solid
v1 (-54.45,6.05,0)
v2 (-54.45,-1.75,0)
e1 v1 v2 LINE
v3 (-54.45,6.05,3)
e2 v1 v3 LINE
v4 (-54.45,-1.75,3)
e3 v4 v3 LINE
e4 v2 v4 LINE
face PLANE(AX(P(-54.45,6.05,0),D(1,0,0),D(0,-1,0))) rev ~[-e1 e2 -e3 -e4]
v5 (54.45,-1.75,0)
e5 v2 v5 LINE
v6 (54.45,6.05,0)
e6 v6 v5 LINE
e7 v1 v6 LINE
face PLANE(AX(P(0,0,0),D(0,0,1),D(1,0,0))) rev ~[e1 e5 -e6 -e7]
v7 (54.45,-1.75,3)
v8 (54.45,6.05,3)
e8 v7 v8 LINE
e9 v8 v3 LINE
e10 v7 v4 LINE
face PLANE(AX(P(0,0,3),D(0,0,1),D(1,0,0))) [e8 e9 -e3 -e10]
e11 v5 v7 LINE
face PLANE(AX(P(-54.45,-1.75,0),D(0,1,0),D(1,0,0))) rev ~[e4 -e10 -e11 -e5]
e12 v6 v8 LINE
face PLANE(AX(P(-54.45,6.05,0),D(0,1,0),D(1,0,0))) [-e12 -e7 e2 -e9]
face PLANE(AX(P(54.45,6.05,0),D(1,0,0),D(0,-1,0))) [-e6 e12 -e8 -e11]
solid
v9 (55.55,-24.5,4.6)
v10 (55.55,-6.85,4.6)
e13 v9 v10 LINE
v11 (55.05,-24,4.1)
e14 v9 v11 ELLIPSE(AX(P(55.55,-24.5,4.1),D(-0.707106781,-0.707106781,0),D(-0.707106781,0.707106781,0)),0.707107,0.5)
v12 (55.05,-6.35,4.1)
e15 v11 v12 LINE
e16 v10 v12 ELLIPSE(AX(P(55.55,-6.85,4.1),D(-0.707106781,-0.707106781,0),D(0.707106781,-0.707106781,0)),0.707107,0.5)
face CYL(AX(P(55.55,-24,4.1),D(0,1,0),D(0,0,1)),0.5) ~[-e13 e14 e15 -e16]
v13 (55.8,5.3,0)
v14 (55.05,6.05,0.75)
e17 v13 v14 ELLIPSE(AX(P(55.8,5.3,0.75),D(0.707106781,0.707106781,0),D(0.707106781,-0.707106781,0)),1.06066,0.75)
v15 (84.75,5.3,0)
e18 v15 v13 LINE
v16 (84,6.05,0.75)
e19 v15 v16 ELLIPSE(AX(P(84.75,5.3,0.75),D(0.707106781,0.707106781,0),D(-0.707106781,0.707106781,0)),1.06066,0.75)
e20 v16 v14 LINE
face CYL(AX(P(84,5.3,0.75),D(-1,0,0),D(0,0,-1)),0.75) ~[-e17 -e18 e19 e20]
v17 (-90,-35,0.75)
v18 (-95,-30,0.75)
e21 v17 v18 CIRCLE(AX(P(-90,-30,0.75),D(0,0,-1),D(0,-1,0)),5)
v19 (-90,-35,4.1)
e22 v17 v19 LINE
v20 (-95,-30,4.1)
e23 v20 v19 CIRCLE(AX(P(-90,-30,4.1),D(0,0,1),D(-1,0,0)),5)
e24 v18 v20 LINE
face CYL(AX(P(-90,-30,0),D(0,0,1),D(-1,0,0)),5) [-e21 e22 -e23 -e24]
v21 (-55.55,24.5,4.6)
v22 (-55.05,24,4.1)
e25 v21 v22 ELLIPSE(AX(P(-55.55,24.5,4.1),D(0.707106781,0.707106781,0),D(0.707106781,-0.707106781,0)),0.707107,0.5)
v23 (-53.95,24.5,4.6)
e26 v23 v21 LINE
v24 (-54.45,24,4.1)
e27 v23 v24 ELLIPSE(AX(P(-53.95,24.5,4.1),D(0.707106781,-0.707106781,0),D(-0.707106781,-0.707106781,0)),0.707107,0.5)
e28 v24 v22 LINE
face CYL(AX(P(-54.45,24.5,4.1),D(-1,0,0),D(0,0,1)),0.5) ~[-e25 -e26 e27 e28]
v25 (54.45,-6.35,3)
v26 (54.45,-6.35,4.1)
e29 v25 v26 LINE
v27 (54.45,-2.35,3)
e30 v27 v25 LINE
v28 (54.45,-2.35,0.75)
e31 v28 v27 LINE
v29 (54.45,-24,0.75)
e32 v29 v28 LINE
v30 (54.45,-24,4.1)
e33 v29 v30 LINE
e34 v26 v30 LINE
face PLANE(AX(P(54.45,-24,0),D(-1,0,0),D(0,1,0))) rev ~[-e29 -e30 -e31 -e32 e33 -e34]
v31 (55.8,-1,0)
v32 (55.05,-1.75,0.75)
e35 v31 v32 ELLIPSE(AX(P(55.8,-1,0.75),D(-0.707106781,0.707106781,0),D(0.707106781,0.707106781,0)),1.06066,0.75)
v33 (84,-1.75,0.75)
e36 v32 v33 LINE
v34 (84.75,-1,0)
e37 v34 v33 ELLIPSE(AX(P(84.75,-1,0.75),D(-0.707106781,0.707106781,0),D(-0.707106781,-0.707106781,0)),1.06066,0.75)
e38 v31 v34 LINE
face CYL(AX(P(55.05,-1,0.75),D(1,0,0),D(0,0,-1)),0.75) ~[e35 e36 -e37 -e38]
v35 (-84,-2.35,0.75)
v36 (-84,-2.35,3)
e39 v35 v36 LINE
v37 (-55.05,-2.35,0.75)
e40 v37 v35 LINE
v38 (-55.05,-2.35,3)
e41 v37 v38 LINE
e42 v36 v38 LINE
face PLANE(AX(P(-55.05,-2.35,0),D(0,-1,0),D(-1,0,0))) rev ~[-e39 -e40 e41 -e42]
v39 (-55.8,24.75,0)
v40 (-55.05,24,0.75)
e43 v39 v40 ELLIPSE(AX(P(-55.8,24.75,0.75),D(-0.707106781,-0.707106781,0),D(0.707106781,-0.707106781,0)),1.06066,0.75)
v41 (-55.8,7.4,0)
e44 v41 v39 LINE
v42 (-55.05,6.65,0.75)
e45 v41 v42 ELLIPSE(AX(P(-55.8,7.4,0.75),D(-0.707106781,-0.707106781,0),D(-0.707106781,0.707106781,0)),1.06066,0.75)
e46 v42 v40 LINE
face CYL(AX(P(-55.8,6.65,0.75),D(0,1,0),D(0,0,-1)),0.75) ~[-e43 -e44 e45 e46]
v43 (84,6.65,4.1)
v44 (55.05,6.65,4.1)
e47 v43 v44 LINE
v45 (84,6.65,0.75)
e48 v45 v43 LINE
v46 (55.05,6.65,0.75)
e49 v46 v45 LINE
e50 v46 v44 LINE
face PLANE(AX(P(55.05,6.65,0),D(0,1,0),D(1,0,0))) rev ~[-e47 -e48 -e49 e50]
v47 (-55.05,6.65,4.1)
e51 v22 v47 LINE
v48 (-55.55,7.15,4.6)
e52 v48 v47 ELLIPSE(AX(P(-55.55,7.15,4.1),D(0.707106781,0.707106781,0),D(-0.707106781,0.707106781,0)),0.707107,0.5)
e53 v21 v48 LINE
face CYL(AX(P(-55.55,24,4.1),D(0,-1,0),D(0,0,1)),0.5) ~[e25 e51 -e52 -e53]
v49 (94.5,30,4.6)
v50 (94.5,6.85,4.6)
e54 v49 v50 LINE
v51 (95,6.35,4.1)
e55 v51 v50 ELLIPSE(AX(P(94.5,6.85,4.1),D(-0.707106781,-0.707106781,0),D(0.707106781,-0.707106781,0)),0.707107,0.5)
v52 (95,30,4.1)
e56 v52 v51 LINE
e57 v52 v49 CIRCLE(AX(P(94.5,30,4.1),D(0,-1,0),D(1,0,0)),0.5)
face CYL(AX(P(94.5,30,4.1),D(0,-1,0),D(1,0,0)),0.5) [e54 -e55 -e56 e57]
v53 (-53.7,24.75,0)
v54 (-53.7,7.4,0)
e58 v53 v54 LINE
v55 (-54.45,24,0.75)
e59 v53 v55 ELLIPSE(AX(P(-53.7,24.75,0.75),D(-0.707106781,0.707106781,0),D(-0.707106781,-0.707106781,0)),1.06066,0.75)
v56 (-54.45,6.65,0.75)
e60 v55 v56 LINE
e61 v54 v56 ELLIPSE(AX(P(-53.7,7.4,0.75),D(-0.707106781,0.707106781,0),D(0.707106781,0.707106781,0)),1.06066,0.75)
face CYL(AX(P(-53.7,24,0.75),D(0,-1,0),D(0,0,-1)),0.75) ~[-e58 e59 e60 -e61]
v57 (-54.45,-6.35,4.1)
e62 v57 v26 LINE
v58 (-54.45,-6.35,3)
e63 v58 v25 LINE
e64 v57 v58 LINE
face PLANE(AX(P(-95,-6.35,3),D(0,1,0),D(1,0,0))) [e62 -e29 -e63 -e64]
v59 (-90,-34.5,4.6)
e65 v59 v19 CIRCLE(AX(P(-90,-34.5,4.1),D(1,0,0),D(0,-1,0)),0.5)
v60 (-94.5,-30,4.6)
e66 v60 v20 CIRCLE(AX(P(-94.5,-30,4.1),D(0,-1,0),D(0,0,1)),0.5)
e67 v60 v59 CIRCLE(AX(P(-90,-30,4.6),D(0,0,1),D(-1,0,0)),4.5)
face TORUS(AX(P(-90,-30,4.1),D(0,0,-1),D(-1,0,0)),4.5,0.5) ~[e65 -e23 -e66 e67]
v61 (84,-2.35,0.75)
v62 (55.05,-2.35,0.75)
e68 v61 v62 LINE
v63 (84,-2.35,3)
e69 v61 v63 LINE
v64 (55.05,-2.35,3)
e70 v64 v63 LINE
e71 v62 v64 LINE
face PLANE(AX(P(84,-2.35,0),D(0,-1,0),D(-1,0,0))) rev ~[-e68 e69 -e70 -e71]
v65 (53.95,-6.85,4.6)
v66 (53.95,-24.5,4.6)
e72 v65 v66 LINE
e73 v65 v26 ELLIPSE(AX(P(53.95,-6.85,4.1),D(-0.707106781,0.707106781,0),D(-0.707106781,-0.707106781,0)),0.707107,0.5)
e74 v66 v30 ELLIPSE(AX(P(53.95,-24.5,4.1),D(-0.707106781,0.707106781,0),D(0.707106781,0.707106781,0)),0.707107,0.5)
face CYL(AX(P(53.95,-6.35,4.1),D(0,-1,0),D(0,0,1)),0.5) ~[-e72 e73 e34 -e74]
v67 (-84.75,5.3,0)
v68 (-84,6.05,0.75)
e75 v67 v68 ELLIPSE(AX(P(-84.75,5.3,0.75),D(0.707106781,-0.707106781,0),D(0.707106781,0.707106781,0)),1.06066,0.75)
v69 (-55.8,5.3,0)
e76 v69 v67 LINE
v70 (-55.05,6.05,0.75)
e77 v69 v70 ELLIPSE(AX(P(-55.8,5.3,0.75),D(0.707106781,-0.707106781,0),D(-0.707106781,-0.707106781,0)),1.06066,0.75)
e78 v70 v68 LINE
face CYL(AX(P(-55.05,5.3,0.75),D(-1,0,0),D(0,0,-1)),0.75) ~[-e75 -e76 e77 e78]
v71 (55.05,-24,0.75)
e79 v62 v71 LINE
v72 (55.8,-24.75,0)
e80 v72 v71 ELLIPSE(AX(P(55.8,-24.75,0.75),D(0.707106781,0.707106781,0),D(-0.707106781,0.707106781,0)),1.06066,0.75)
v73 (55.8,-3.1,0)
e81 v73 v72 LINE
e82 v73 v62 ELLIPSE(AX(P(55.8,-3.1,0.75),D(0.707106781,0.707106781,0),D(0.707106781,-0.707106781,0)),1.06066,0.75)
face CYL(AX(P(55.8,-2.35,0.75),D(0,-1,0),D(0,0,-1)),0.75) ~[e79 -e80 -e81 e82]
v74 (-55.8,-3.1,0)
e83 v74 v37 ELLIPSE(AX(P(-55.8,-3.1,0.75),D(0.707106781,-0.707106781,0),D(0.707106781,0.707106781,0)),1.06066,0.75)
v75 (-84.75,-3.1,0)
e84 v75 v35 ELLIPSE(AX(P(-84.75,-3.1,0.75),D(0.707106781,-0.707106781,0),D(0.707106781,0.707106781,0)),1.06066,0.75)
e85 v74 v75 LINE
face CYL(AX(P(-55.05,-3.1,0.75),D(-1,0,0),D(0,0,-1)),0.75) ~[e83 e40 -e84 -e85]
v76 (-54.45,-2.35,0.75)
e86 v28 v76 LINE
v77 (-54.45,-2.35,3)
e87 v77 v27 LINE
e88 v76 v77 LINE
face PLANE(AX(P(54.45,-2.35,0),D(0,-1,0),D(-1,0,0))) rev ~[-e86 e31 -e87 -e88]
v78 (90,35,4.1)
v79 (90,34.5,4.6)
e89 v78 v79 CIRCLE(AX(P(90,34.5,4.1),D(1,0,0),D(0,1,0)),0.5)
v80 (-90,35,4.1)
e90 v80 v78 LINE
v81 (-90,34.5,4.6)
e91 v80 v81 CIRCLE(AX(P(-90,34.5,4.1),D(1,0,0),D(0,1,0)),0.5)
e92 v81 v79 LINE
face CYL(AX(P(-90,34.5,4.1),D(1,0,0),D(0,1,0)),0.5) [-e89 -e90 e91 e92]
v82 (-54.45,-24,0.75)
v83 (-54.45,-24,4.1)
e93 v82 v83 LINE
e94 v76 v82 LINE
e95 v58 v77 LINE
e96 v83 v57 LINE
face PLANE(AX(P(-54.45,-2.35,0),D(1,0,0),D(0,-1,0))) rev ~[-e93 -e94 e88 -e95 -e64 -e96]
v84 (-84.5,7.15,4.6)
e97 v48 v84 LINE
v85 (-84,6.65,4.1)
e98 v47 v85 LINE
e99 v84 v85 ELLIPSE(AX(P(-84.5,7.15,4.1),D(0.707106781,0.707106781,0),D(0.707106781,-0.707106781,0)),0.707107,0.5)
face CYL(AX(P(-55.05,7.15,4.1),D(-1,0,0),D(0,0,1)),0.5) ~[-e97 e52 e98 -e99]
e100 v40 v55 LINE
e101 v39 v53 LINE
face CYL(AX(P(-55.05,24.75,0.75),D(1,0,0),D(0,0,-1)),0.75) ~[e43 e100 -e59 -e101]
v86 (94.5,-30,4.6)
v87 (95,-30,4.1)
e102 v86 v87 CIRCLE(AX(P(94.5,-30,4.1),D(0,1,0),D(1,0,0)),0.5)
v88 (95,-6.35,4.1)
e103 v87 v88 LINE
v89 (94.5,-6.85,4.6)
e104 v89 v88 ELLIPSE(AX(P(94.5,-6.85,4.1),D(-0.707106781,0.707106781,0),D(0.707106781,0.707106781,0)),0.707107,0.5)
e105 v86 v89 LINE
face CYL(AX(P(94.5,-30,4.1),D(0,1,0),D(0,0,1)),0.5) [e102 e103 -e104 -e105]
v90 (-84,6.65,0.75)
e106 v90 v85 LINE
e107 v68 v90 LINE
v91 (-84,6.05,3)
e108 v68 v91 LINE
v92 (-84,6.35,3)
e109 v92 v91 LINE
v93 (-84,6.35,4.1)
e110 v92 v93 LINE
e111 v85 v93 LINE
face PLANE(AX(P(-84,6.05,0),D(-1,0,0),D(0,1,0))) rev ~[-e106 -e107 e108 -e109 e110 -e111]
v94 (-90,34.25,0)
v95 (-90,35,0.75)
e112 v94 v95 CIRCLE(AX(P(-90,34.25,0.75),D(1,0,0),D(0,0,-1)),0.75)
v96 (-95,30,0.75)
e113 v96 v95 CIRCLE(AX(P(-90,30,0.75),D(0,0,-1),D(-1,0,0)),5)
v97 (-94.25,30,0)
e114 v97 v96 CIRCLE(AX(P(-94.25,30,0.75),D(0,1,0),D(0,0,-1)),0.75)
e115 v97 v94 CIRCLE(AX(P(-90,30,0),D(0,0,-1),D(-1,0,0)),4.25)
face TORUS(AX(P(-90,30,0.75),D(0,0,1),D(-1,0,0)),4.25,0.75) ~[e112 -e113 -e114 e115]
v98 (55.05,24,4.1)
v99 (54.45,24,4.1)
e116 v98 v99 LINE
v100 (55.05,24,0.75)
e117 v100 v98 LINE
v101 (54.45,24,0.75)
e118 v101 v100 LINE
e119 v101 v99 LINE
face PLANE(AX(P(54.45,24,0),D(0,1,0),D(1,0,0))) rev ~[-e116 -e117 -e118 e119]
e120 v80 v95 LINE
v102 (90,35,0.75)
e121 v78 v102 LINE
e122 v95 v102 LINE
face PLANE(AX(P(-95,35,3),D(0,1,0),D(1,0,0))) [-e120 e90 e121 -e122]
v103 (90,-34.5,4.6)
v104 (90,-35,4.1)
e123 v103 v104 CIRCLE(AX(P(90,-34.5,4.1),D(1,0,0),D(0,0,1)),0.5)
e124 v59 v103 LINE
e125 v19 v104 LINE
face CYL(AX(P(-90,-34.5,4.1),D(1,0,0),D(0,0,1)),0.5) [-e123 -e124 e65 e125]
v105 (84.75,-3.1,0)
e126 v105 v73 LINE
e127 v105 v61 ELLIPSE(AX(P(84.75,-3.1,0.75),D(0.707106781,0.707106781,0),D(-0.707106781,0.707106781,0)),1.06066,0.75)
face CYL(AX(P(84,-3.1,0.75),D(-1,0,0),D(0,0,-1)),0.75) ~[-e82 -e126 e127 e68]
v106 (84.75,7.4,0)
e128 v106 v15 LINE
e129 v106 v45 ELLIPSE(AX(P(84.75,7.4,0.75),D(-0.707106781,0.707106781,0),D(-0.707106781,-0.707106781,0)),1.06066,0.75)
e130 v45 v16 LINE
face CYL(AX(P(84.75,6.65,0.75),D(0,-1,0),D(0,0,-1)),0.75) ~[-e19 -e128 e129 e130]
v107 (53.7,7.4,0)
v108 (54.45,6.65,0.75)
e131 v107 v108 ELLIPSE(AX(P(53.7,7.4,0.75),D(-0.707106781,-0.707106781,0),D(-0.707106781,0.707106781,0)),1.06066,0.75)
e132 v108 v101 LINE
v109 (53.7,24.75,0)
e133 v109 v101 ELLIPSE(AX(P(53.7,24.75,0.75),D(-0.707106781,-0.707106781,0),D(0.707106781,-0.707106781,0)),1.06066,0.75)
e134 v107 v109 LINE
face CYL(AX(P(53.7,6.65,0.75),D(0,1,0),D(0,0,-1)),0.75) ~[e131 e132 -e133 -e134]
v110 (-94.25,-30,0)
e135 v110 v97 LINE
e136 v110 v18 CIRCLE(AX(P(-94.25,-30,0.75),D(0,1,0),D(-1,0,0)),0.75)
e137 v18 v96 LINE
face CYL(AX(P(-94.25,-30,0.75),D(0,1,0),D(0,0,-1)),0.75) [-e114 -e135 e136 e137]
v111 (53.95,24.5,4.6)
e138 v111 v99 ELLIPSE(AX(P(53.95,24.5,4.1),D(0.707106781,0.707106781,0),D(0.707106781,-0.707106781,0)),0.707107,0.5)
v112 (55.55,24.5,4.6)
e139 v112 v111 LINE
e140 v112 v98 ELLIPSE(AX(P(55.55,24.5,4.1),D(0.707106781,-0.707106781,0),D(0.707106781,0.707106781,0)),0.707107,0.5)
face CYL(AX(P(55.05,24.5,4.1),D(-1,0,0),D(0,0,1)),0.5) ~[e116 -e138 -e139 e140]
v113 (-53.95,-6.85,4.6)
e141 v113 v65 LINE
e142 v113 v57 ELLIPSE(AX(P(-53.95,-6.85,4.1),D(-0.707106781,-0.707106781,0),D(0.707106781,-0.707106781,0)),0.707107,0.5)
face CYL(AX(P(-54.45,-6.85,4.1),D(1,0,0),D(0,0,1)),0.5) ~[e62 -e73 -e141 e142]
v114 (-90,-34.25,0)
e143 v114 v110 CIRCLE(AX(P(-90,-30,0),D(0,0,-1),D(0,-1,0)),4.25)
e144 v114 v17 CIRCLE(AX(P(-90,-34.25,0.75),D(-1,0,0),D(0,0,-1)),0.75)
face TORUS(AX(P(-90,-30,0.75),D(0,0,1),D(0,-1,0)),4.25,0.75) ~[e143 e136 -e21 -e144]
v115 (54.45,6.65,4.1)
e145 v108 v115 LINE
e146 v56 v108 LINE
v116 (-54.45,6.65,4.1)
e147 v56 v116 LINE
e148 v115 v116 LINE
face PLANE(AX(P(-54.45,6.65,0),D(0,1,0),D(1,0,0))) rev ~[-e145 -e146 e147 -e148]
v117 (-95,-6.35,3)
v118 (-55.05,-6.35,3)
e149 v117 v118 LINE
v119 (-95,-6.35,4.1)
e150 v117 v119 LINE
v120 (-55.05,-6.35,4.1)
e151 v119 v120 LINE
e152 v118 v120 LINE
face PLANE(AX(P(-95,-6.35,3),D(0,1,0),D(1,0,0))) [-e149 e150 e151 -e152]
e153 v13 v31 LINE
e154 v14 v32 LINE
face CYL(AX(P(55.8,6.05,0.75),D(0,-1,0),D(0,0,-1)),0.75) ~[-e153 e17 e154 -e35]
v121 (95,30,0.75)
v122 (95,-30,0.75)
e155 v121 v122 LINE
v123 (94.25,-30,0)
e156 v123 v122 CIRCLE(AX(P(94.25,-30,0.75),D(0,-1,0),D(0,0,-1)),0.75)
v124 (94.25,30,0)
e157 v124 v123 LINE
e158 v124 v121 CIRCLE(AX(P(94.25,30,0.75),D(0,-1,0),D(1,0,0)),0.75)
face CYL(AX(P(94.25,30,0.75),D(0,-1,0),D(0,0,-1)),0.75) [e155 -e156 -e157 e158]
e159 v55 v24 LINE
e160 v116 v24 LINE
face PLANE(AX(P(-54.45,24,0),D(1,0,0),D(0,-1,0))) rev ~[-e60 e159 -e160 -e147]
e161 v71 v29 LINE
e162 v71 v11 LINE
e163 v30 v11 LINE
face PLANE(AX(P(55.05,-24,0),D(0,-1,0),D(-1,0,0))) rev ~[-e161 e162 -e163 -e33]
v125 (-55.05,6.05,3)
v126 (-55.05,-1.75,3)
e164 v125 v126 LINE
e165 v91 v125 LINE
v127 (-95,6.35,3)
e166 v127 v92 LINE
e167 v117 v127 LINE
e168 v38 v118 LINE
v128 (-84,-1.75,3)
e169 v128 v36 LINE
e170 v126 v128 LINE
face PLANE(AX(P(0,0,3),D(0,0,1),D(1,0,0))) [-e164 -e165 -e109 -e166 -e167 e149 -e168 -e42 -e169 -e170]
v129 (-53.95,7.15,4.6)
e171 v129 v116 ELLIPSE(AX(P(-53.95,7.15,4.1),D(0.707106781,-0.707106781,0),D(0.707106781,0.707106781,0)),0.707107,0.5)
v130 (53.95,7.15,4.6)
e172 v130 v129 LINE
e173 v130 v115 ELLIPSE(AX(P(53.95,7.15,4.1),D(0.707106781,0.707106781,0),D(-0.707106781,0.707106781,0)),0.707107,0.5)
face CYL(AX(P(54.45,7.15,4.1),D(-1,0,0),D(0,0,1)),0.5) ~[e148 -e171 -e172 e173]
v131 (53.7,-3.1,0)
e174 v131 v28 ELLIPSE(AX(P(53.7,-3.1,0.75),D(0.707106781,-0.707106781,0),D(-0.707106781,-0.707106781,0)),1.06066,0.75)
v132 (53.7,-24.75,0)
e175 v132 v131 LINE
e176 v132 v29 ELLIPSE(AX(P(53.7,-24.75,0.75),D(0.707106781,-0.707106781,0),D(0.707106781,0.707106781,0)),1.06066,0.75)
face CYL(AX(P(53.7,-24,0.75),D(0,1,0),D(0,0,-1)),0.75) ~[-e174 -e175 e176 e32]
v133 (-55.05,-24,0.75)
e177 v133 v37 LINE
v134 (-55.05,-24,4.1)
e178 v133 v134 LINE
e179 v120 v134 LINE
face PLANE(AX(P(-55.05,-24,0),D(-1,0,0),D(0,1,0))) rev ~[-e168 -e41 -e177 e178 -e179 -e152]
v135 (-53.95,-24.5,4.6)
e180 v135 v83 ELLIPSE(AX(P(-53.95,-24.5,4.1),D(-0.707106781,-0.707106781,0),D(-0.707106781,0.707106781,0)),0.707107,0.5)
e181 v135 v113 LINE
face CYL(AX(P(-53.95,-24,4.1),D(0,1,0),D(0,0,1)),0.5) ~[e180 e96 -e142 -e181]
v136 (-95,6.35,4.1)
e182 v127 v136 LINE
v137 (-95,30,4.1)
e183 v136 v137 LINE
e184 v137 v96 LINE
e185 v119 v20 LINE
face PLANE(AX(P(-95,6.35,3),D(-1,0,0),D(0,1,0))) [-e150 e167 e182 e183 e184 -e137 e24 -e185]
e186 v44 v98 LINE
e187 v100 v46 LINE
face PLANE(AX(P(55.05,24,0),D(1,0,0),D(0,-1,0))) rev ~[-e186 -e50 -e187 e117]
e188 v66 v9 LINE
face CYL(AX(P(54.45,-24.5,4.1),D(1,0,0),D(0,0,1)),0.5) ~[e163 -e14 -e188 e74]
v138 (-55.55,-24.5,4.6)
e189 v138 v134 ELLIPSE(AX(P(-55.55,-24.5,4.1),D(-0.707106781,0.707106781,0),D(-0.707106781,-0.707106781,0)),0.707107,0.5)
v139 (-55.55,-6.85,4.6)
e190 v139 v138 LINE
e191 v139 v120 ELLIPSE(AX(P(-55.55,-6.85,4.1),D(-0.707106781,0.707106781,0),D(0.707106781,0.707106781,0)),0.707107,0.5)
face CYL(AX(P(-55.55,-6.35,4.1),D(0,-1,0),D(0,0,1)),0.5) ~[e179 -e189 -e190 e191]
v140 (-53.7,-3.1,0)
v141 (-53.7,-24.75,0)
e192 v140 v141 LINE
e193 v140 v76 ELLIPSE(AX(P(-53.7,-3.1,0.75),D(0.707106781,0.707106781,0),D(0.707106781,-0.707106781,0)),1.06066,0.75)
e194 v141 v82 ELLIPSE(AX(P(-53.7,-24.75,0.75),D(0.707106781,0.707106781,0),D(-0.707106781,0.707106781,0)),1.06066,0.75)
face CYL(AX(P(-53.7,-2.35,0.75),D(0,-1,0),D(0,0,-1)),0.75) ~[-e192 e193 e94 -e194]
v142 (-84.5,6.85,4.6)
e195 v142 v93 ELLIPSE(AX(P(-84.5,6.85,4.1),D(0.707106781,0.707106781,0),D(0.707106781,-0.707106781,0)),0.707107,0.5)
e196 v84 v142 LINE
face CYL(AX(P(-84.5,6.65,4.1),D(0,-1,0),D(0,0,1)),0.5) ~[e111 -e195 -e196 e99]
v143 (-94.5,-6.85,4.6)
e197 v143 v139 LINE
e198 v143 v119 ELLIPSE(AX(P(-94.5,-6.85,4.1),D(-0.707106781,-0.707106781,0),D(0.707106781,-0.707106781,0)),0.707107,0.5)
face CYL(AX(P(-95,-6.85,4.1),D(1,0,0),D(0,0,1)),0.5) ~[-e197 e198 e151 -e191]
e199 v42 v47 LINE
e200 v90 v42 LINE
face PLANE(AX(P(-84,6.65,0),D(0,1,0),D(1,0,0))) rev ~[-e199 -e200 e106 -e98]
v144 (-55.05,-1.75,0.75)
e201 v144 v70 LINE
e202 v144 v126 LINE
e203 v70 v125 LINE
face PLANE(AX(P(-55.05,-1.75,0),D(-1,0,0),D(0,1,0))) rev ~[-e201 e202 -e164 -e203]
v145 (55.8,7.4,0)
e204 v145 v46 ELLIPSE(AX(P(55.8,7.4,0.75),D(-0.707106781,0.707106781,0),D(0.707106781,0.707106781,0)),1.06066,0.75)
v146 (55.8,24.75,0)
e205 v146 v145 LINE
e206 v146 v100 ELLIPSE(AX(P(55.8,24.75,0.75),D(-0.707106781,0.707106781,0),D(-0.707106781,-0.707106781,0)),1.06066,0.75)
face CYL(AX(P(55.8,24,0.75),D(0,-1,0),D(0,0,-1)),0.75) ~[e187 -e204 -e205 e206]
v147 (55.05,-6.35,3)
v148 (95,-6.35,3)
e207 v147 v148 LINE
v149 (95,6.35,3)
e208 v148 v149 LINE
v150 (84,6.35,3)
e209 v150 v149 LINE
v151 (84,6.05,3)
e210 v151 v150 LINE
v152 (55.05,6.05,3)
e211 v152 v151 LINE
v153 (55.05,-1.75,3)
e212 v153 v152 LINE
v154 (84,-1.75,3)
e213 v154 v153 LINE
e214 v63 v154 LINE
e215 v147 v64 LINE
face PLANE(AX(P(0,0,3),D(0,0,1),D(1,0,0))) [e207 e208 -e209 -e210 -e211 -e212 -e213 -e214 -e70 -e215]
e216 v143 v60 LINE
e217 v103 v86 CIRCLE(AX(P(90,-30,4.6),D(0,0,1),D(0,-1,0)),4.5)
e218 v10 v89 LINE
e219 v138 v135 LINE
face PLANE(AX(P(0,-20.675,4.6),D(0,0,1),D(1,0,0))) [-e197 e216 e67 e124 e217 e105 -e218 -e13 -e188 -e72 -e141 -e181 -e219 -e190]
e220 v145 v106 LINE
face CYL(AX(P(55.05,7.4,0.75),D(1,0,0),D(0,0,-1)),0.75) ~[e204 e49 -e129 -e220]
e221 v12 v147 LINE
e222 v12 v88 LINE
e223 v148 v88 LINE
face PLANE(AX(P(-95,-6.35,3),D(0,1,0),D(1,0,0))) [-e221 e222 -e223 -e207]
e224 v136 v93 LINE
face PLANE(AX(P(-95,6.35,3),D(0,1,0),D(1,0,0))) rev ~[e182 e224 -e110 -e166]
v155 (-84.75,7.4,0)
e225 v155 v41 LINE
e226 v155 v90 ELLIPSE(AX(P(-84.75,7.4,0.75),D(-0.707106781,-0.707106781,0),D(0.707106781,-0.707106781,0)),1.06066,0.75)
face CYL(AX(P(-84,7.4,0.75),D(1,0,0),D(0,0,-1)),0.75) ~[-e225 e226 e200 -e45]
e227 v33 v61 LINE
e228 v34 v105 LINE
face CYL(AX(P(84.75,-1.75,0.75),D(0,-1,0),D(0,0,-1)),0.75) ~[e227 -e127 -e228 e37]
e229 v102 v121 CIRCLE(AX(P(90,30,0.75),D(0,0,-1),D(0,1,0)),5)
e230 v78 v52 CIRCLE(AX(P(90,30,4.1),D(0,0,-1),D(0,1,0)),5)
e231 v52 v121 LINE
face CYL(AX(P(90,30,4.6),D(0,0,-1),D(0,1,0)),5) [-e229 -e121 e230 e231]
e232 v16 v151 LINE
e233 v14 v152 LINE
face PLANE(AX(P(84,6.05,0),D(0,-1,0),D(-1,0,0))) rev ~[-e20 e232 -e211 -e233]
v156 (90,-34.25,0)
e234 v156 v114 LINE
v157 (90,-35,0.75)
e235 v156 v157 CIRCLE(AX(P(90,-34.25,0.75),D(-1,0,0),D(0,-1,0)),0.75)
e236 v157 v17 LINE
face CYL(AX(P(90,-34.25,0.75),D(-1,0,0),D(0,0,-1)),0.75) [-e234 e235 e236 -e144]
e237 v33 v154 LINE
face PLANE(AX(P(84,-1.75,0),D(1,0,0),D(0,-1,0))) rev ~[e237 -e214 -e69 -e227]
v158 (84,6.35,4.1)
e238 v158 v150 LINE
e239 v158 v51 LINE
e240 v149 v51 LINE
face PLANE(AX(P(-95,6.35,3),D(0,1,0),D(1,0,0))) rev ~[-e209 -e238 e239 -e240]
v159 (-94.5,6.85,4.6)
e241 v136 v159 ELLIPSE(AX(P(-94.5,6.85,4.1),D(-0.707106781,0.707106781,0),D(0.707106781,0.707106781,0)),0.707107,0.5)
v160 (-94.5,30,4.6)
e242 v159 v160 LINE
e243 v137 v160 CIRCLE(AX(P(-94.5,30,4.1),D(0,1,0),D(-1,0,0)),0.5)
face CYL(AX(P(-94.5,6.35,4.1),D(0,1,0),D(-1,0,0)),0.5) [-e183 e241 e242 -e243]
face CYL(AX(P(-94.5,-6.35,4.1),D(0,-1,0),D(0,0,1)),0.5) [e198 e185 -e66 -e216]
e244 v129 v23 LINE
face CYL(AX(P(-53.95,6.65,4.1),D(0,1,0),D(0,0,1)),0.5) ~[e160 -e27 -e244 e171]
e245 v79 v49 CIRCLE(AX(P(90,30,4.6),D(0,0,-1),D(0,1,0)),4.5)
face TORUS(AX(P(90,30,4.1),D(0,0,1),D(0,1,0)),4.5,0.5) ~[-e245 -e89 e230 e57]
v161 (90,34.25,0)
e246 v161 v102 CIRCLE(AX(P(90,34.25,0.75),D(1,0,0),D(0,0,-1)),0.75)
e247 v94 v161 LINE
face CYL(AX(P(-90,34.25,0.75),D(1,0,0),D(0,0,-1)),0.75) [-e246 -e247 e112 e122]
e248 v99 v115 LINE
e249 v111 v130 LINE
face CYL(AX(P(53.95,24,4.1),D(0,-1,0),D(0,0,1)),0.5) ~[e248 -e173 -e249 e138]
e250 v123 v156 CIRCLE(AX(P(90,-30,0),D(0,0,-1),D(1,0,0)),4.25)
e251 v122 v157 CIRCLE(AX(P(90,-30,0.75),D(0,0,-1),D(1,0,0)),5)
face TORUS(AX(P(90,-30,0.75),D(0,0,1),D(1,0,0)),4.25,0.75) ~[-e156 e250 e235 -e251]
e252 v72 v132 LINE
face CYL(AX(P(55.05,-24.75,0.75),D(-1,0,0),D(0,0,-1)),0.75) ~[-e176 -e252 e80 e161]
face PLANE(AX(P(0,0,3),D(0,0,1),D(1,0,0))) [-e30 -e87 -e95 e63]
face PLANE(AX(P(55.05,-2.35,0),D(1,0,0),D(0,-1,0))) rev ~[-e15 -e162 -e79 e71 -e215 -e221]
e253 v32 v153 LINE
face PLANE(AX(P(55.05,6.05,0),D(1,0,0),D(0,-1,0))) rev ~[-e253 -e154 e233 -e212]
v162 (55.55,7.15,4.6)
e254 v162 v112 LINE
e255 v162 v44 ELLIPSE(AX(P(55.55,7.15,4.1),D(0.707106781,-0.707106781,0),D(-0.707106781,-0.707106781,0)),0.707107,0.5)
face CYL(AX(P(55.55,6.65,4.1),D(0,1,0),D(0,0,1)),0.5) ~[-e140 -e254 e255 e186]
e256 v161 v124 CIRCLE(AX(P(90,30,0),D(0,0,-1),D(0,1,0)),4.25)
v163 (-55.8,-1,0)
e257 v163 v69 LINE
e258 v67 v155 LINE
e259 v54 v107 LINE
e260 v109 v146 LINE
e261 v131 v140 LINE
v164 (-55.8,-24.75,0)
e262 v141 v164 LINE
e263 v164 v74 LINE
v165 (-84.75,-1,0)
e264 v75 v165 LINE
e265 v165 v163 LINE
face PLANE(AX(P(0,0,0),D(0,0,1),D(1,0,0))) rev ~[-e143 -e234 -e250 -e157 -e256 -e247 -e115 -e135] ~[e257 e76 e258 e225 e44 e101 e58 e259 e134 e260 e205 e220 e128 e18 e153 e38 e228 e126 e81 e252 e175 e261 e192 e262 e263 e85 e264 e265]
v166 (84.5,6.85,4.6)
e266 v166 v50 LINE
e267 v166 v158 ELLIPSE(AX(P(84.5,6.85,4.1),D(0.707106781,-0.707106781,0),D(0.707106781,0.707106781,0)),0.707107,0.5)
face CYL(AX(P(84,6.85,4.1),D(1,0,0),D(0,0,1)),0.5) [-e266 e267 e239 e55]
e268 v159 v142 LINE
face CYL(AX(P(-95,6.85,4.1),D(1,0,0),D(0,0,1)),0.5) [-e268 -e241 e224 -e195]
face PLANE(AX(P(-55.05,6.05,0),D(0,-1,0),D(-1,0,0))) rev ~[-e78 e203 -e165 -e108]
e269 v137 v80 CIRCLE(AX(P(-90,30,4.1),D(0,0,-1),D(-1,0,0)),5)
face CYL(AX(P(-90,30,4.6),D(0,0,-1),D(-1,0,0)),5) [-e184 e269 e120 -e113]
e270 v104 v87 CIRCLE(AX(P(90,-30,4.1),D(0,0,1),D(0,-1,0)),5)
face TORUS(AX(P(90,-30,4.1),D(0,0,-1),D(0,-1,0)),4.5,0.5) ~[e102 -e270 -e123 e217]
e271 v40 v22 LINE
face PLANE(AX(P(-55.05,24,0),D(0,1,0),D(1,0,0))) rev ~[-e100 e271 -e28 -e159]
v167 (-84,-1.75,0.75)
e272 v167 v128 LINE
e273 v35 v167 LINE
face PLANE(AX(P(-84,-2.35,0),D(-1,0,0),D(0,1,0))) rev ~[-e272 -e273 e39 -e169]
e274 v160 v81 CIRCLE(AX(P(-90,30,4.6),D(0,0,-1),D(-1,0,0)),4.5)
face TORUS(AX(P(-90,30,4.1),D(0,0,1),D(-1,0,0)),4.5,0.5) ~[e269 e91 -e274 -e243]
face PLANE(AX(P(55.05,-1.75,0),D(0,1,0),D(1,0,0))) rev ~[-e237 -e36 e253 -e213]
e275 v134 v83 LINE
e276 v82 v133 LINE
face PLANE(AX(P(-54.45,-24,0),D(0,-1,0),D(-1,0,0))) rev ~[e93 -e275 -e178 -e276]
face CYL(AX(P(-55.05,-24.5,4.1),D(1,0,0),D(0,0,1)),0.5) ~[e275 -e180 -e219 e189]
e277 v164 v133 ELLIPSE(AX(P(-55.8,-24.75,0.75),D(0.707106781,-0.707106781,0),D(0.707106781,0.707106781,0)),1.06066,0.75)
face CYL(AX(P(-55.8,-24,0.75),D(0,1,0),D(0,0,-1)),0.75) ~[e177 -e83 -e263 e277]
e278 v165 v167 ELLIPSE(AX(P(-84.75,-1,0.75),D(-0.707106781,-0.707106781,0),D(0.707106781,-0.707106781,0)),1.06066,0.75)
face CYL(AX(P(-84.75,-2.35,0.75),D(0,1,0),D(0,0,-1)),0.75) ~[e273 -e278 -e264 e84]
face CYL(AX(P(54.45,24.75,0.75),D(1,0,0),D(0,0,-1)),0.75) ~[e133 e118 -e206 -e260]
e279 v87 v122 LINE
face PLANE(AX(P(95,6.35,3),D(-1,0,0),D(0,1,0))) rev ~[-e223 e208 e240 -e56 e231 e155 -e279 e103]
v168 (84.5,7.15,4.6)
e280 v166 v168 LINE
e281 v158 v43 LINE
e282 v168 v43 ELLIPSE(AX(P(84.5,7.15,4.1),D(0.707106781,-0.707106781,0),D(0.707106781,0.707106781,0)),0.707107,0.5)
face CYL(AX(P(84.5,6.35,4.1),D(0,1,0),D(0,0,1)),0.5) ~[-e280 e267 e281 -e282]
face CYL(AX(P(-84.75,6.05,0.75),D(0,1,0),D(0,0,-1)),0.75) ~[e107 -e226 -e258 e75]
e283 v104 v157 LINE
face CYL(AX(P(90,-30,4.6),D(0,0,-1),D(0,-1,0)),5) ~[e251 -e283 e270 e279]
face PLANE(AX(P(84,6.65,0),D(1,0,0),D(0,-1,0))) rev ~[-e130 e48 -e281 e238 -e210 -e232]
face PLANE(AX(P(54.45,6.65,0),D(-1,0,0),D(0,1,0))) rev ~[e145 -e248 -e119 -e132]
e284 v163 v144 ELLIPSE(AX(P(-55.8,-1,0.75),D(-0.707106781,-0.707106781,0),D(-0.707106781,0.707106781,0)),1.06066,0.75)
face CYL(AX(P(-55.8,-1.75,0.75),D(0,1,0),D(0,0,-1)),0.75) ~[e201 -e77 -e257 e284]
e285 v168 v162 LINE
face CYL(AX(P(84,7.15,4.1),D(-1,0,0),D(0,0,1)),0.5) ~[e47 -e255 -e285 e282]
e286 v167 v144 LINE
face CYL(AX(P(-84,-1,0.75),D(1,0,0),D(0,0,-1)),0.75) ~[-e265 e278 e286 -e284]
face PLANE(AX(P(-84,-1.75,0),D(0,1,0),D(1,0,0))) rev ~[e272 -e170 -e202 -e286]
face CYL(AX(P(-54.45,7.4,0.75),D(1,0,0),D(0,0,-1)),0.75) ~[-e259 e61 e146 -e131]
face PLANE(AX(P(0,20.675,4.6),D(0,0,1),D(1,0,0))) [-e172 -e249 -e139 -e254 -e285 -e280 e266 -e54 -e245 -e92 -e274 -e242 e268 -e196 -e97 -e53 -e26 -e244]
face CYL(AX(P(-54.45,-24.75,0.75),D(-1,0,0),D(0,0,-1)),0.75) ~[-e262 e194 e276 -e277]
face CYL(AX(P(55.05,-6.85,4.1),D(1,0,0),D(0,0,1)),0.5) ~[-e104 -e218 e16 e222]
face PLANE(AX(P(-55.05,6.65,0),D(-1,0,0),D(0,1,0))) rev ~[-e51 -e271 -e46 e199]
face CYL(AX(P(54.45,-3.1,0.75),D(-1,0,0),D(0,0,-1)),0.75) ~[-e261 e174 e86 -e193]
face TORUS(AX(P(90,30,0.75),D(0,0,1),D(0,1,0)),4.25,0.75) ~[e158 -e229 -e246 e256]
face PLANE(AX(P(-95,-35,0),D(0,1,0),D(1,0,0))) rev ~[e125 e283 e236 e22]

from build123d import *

# Parameters (mm, degrees)
F0_W     = 190
F0_H     = 70
F1_DEPTH = 3
F2_W     = 190
F2_H     = 28.65
F3_DEPTH = 1.6
F4_W     = 108.9
F4_H     = 7.8
F5_DEPTH = 25
F6_R     = 5
F7_R     = 0.75
F8_R     = 0.5


with BuildPart() as f1:
    # F0 (on Top) → F1 (new body)
    with BuildSketch(Plane.XY):
        Rectangle(F0_W, F0_H)
    extrude(amount=F1_DEPTH)

    # F2 (on face) → F3 (join)
    with BuildSketch(Plane.XY.offset(3)):
        with Locations((0, 20.675)):
            Rectangle(F2_W, F2_H)
        with Locations((0, -20.675)):
            Rectangle(F2_W, F2_H)
    extrude(amount=F3_DEPTH)

    # F4 (on face) → F5 (cut)
    with BuildSketch(Plane(origin=(0, 0, 0), x_dir=(1, 0, 0), z_dir=(0, 0, -1))):
        Polygon((-55.05, 2.35), (-84, 2.35), (-84, 1.75), (-55.05, 1.75), (-55.05, -6.05), (-84, -6.05), (-84, -6.65), (-55.05, -6.65), (-55.05, -24), (-54.45, -24), (-54.45, -6.65), (54.45, -6.65), (54.45, -24), (55.05, -24), (55.05, -6.65), (84, -6.65), (84, -6.05), (55.05, -6.05), (55.05, 1.75), (84, 1.75), (84, 2.35), (55.05, 2.35), (55.05, 24), (54.45, 24), (54.45, 2.35), (-54.45, 2.35), (-54.45, 24), (-55.05, 24), align=None)
        with Locations((0, -2.15)):
            Rectangle(F4_W, F4_H, mode=Mode.SUBTRACT)
    extrude(amount=-F5_DEPTH, mode=Mode.SUBTRACT)

    # F6
    f6_edges = [f1.edges().sort_by_distance(p)[0] for p in [
        (95, 35, 2.3),
        (95, -35, 2.3),
        (-95, -35, 2.3),
        (-95, 35, 2.3),
    ]]
    fillet(f6_edges, radius=F6_R)

    # F7
    f7_edges = [f1.edges().sort_by_distance(p)[0] for p in [
        (0, 35, 0),
        (93.535534, 33.535534, 0),
        (-93.535534, 33.535534, 0),
        (95, 0, 0),
        (-95, 0, 0),
        (93.535534, -33.535534, 0),
        (-93.535534, -33.535534, 0),
        (0, -35, 0),
        (-55.05, -13.175, 0),
        (-54.75, -24, 0),
        (-54.45, -13.175, 0),
        (0, -2.35, 0),
        (54.45, -13.175, 0),
        (54.75, -24, 0),
        (55.05, -13.175, 0),
        (69.525, -2.35, 0),
        (84, -2.05, 0),
        (69.525, -1.75, 0),
        (55.05, 2.15, 0),
        (69.525, 6.05, 0),
        (84, 6.35, 0),
        (69.525, 6.65, 0),
        (55.05, 15.325, 0),
        (54.75, 24, 0),
        (54.45, 15.325, 0),
        (0, 6.65, 0),
        (-54.45, 15.325, 0),
        (-54.75, 24, 0),
        (-55.05, 15.325, 0),
        (-69.525, 6.65, 0),
        (-84, 6.35, 0),
        (-69.525, 6.05, 0),
        (-55.05, 2.15, 0),
        (-69.525, -1.75, 0),
        (-84, -2.05, 0),
        (-69.525, -2.35, 0),
    ]]
    fillet(f7_edges, radius=F7_R)

    # F8
    f8_edges = [f1.edges().sort_by_distance(p)[0] for p in [
        (95, -18.175, 4.6),
        (93.535534, -33.535534, 4.6),
        (75.025, -6.35, 4.6),
        (0, -35, 4.6),
        (55.05, -15.175, 4.6),
        (-93.535534, -33.535534, 4.6),
        (54.75, -24, 4.6),
        (-95, -18.175, 4.6),
        (54.45, -15.175, 4.6),
        (-75.025, -6.35, 4.6),
        (0, -6.35, 4.6),
        (-55.05, -15.175, 4.6),
        (-54.45, -15.175, 4.6),
        (-54.75, -24, 4.6),
        (-95, 18.175, 4.6),
        (-93.535534, 33.535534, 4.6),
        (-89.5, 6.35, 4.6),
        (0, 35, 4.6),
        (-84, 6.5, 4.6),
        (93.535534, 33.535534, 4.6),
        (-69.525, 6.65, 4.6),
        (95, 18.175, 4.6),
        (-55.05, 15.325, 4.6),
        (89.5, 6.35, 4.6),
        (-54.75, 24, 4.6),
        (84, 6.5, 4.6),
        (-54.45, 15.325, 4.6),
        (69.525, 6.65, 4.6),
        (0, 6.65, 4.6),
        (55.05, 15.325, 4.6),
        (54.45, 15.325, 4.6),
        (54.75, 24, 4.6),
    ]]
    fillet(f8_edges, radius=F8_R)


solid = f1.part
